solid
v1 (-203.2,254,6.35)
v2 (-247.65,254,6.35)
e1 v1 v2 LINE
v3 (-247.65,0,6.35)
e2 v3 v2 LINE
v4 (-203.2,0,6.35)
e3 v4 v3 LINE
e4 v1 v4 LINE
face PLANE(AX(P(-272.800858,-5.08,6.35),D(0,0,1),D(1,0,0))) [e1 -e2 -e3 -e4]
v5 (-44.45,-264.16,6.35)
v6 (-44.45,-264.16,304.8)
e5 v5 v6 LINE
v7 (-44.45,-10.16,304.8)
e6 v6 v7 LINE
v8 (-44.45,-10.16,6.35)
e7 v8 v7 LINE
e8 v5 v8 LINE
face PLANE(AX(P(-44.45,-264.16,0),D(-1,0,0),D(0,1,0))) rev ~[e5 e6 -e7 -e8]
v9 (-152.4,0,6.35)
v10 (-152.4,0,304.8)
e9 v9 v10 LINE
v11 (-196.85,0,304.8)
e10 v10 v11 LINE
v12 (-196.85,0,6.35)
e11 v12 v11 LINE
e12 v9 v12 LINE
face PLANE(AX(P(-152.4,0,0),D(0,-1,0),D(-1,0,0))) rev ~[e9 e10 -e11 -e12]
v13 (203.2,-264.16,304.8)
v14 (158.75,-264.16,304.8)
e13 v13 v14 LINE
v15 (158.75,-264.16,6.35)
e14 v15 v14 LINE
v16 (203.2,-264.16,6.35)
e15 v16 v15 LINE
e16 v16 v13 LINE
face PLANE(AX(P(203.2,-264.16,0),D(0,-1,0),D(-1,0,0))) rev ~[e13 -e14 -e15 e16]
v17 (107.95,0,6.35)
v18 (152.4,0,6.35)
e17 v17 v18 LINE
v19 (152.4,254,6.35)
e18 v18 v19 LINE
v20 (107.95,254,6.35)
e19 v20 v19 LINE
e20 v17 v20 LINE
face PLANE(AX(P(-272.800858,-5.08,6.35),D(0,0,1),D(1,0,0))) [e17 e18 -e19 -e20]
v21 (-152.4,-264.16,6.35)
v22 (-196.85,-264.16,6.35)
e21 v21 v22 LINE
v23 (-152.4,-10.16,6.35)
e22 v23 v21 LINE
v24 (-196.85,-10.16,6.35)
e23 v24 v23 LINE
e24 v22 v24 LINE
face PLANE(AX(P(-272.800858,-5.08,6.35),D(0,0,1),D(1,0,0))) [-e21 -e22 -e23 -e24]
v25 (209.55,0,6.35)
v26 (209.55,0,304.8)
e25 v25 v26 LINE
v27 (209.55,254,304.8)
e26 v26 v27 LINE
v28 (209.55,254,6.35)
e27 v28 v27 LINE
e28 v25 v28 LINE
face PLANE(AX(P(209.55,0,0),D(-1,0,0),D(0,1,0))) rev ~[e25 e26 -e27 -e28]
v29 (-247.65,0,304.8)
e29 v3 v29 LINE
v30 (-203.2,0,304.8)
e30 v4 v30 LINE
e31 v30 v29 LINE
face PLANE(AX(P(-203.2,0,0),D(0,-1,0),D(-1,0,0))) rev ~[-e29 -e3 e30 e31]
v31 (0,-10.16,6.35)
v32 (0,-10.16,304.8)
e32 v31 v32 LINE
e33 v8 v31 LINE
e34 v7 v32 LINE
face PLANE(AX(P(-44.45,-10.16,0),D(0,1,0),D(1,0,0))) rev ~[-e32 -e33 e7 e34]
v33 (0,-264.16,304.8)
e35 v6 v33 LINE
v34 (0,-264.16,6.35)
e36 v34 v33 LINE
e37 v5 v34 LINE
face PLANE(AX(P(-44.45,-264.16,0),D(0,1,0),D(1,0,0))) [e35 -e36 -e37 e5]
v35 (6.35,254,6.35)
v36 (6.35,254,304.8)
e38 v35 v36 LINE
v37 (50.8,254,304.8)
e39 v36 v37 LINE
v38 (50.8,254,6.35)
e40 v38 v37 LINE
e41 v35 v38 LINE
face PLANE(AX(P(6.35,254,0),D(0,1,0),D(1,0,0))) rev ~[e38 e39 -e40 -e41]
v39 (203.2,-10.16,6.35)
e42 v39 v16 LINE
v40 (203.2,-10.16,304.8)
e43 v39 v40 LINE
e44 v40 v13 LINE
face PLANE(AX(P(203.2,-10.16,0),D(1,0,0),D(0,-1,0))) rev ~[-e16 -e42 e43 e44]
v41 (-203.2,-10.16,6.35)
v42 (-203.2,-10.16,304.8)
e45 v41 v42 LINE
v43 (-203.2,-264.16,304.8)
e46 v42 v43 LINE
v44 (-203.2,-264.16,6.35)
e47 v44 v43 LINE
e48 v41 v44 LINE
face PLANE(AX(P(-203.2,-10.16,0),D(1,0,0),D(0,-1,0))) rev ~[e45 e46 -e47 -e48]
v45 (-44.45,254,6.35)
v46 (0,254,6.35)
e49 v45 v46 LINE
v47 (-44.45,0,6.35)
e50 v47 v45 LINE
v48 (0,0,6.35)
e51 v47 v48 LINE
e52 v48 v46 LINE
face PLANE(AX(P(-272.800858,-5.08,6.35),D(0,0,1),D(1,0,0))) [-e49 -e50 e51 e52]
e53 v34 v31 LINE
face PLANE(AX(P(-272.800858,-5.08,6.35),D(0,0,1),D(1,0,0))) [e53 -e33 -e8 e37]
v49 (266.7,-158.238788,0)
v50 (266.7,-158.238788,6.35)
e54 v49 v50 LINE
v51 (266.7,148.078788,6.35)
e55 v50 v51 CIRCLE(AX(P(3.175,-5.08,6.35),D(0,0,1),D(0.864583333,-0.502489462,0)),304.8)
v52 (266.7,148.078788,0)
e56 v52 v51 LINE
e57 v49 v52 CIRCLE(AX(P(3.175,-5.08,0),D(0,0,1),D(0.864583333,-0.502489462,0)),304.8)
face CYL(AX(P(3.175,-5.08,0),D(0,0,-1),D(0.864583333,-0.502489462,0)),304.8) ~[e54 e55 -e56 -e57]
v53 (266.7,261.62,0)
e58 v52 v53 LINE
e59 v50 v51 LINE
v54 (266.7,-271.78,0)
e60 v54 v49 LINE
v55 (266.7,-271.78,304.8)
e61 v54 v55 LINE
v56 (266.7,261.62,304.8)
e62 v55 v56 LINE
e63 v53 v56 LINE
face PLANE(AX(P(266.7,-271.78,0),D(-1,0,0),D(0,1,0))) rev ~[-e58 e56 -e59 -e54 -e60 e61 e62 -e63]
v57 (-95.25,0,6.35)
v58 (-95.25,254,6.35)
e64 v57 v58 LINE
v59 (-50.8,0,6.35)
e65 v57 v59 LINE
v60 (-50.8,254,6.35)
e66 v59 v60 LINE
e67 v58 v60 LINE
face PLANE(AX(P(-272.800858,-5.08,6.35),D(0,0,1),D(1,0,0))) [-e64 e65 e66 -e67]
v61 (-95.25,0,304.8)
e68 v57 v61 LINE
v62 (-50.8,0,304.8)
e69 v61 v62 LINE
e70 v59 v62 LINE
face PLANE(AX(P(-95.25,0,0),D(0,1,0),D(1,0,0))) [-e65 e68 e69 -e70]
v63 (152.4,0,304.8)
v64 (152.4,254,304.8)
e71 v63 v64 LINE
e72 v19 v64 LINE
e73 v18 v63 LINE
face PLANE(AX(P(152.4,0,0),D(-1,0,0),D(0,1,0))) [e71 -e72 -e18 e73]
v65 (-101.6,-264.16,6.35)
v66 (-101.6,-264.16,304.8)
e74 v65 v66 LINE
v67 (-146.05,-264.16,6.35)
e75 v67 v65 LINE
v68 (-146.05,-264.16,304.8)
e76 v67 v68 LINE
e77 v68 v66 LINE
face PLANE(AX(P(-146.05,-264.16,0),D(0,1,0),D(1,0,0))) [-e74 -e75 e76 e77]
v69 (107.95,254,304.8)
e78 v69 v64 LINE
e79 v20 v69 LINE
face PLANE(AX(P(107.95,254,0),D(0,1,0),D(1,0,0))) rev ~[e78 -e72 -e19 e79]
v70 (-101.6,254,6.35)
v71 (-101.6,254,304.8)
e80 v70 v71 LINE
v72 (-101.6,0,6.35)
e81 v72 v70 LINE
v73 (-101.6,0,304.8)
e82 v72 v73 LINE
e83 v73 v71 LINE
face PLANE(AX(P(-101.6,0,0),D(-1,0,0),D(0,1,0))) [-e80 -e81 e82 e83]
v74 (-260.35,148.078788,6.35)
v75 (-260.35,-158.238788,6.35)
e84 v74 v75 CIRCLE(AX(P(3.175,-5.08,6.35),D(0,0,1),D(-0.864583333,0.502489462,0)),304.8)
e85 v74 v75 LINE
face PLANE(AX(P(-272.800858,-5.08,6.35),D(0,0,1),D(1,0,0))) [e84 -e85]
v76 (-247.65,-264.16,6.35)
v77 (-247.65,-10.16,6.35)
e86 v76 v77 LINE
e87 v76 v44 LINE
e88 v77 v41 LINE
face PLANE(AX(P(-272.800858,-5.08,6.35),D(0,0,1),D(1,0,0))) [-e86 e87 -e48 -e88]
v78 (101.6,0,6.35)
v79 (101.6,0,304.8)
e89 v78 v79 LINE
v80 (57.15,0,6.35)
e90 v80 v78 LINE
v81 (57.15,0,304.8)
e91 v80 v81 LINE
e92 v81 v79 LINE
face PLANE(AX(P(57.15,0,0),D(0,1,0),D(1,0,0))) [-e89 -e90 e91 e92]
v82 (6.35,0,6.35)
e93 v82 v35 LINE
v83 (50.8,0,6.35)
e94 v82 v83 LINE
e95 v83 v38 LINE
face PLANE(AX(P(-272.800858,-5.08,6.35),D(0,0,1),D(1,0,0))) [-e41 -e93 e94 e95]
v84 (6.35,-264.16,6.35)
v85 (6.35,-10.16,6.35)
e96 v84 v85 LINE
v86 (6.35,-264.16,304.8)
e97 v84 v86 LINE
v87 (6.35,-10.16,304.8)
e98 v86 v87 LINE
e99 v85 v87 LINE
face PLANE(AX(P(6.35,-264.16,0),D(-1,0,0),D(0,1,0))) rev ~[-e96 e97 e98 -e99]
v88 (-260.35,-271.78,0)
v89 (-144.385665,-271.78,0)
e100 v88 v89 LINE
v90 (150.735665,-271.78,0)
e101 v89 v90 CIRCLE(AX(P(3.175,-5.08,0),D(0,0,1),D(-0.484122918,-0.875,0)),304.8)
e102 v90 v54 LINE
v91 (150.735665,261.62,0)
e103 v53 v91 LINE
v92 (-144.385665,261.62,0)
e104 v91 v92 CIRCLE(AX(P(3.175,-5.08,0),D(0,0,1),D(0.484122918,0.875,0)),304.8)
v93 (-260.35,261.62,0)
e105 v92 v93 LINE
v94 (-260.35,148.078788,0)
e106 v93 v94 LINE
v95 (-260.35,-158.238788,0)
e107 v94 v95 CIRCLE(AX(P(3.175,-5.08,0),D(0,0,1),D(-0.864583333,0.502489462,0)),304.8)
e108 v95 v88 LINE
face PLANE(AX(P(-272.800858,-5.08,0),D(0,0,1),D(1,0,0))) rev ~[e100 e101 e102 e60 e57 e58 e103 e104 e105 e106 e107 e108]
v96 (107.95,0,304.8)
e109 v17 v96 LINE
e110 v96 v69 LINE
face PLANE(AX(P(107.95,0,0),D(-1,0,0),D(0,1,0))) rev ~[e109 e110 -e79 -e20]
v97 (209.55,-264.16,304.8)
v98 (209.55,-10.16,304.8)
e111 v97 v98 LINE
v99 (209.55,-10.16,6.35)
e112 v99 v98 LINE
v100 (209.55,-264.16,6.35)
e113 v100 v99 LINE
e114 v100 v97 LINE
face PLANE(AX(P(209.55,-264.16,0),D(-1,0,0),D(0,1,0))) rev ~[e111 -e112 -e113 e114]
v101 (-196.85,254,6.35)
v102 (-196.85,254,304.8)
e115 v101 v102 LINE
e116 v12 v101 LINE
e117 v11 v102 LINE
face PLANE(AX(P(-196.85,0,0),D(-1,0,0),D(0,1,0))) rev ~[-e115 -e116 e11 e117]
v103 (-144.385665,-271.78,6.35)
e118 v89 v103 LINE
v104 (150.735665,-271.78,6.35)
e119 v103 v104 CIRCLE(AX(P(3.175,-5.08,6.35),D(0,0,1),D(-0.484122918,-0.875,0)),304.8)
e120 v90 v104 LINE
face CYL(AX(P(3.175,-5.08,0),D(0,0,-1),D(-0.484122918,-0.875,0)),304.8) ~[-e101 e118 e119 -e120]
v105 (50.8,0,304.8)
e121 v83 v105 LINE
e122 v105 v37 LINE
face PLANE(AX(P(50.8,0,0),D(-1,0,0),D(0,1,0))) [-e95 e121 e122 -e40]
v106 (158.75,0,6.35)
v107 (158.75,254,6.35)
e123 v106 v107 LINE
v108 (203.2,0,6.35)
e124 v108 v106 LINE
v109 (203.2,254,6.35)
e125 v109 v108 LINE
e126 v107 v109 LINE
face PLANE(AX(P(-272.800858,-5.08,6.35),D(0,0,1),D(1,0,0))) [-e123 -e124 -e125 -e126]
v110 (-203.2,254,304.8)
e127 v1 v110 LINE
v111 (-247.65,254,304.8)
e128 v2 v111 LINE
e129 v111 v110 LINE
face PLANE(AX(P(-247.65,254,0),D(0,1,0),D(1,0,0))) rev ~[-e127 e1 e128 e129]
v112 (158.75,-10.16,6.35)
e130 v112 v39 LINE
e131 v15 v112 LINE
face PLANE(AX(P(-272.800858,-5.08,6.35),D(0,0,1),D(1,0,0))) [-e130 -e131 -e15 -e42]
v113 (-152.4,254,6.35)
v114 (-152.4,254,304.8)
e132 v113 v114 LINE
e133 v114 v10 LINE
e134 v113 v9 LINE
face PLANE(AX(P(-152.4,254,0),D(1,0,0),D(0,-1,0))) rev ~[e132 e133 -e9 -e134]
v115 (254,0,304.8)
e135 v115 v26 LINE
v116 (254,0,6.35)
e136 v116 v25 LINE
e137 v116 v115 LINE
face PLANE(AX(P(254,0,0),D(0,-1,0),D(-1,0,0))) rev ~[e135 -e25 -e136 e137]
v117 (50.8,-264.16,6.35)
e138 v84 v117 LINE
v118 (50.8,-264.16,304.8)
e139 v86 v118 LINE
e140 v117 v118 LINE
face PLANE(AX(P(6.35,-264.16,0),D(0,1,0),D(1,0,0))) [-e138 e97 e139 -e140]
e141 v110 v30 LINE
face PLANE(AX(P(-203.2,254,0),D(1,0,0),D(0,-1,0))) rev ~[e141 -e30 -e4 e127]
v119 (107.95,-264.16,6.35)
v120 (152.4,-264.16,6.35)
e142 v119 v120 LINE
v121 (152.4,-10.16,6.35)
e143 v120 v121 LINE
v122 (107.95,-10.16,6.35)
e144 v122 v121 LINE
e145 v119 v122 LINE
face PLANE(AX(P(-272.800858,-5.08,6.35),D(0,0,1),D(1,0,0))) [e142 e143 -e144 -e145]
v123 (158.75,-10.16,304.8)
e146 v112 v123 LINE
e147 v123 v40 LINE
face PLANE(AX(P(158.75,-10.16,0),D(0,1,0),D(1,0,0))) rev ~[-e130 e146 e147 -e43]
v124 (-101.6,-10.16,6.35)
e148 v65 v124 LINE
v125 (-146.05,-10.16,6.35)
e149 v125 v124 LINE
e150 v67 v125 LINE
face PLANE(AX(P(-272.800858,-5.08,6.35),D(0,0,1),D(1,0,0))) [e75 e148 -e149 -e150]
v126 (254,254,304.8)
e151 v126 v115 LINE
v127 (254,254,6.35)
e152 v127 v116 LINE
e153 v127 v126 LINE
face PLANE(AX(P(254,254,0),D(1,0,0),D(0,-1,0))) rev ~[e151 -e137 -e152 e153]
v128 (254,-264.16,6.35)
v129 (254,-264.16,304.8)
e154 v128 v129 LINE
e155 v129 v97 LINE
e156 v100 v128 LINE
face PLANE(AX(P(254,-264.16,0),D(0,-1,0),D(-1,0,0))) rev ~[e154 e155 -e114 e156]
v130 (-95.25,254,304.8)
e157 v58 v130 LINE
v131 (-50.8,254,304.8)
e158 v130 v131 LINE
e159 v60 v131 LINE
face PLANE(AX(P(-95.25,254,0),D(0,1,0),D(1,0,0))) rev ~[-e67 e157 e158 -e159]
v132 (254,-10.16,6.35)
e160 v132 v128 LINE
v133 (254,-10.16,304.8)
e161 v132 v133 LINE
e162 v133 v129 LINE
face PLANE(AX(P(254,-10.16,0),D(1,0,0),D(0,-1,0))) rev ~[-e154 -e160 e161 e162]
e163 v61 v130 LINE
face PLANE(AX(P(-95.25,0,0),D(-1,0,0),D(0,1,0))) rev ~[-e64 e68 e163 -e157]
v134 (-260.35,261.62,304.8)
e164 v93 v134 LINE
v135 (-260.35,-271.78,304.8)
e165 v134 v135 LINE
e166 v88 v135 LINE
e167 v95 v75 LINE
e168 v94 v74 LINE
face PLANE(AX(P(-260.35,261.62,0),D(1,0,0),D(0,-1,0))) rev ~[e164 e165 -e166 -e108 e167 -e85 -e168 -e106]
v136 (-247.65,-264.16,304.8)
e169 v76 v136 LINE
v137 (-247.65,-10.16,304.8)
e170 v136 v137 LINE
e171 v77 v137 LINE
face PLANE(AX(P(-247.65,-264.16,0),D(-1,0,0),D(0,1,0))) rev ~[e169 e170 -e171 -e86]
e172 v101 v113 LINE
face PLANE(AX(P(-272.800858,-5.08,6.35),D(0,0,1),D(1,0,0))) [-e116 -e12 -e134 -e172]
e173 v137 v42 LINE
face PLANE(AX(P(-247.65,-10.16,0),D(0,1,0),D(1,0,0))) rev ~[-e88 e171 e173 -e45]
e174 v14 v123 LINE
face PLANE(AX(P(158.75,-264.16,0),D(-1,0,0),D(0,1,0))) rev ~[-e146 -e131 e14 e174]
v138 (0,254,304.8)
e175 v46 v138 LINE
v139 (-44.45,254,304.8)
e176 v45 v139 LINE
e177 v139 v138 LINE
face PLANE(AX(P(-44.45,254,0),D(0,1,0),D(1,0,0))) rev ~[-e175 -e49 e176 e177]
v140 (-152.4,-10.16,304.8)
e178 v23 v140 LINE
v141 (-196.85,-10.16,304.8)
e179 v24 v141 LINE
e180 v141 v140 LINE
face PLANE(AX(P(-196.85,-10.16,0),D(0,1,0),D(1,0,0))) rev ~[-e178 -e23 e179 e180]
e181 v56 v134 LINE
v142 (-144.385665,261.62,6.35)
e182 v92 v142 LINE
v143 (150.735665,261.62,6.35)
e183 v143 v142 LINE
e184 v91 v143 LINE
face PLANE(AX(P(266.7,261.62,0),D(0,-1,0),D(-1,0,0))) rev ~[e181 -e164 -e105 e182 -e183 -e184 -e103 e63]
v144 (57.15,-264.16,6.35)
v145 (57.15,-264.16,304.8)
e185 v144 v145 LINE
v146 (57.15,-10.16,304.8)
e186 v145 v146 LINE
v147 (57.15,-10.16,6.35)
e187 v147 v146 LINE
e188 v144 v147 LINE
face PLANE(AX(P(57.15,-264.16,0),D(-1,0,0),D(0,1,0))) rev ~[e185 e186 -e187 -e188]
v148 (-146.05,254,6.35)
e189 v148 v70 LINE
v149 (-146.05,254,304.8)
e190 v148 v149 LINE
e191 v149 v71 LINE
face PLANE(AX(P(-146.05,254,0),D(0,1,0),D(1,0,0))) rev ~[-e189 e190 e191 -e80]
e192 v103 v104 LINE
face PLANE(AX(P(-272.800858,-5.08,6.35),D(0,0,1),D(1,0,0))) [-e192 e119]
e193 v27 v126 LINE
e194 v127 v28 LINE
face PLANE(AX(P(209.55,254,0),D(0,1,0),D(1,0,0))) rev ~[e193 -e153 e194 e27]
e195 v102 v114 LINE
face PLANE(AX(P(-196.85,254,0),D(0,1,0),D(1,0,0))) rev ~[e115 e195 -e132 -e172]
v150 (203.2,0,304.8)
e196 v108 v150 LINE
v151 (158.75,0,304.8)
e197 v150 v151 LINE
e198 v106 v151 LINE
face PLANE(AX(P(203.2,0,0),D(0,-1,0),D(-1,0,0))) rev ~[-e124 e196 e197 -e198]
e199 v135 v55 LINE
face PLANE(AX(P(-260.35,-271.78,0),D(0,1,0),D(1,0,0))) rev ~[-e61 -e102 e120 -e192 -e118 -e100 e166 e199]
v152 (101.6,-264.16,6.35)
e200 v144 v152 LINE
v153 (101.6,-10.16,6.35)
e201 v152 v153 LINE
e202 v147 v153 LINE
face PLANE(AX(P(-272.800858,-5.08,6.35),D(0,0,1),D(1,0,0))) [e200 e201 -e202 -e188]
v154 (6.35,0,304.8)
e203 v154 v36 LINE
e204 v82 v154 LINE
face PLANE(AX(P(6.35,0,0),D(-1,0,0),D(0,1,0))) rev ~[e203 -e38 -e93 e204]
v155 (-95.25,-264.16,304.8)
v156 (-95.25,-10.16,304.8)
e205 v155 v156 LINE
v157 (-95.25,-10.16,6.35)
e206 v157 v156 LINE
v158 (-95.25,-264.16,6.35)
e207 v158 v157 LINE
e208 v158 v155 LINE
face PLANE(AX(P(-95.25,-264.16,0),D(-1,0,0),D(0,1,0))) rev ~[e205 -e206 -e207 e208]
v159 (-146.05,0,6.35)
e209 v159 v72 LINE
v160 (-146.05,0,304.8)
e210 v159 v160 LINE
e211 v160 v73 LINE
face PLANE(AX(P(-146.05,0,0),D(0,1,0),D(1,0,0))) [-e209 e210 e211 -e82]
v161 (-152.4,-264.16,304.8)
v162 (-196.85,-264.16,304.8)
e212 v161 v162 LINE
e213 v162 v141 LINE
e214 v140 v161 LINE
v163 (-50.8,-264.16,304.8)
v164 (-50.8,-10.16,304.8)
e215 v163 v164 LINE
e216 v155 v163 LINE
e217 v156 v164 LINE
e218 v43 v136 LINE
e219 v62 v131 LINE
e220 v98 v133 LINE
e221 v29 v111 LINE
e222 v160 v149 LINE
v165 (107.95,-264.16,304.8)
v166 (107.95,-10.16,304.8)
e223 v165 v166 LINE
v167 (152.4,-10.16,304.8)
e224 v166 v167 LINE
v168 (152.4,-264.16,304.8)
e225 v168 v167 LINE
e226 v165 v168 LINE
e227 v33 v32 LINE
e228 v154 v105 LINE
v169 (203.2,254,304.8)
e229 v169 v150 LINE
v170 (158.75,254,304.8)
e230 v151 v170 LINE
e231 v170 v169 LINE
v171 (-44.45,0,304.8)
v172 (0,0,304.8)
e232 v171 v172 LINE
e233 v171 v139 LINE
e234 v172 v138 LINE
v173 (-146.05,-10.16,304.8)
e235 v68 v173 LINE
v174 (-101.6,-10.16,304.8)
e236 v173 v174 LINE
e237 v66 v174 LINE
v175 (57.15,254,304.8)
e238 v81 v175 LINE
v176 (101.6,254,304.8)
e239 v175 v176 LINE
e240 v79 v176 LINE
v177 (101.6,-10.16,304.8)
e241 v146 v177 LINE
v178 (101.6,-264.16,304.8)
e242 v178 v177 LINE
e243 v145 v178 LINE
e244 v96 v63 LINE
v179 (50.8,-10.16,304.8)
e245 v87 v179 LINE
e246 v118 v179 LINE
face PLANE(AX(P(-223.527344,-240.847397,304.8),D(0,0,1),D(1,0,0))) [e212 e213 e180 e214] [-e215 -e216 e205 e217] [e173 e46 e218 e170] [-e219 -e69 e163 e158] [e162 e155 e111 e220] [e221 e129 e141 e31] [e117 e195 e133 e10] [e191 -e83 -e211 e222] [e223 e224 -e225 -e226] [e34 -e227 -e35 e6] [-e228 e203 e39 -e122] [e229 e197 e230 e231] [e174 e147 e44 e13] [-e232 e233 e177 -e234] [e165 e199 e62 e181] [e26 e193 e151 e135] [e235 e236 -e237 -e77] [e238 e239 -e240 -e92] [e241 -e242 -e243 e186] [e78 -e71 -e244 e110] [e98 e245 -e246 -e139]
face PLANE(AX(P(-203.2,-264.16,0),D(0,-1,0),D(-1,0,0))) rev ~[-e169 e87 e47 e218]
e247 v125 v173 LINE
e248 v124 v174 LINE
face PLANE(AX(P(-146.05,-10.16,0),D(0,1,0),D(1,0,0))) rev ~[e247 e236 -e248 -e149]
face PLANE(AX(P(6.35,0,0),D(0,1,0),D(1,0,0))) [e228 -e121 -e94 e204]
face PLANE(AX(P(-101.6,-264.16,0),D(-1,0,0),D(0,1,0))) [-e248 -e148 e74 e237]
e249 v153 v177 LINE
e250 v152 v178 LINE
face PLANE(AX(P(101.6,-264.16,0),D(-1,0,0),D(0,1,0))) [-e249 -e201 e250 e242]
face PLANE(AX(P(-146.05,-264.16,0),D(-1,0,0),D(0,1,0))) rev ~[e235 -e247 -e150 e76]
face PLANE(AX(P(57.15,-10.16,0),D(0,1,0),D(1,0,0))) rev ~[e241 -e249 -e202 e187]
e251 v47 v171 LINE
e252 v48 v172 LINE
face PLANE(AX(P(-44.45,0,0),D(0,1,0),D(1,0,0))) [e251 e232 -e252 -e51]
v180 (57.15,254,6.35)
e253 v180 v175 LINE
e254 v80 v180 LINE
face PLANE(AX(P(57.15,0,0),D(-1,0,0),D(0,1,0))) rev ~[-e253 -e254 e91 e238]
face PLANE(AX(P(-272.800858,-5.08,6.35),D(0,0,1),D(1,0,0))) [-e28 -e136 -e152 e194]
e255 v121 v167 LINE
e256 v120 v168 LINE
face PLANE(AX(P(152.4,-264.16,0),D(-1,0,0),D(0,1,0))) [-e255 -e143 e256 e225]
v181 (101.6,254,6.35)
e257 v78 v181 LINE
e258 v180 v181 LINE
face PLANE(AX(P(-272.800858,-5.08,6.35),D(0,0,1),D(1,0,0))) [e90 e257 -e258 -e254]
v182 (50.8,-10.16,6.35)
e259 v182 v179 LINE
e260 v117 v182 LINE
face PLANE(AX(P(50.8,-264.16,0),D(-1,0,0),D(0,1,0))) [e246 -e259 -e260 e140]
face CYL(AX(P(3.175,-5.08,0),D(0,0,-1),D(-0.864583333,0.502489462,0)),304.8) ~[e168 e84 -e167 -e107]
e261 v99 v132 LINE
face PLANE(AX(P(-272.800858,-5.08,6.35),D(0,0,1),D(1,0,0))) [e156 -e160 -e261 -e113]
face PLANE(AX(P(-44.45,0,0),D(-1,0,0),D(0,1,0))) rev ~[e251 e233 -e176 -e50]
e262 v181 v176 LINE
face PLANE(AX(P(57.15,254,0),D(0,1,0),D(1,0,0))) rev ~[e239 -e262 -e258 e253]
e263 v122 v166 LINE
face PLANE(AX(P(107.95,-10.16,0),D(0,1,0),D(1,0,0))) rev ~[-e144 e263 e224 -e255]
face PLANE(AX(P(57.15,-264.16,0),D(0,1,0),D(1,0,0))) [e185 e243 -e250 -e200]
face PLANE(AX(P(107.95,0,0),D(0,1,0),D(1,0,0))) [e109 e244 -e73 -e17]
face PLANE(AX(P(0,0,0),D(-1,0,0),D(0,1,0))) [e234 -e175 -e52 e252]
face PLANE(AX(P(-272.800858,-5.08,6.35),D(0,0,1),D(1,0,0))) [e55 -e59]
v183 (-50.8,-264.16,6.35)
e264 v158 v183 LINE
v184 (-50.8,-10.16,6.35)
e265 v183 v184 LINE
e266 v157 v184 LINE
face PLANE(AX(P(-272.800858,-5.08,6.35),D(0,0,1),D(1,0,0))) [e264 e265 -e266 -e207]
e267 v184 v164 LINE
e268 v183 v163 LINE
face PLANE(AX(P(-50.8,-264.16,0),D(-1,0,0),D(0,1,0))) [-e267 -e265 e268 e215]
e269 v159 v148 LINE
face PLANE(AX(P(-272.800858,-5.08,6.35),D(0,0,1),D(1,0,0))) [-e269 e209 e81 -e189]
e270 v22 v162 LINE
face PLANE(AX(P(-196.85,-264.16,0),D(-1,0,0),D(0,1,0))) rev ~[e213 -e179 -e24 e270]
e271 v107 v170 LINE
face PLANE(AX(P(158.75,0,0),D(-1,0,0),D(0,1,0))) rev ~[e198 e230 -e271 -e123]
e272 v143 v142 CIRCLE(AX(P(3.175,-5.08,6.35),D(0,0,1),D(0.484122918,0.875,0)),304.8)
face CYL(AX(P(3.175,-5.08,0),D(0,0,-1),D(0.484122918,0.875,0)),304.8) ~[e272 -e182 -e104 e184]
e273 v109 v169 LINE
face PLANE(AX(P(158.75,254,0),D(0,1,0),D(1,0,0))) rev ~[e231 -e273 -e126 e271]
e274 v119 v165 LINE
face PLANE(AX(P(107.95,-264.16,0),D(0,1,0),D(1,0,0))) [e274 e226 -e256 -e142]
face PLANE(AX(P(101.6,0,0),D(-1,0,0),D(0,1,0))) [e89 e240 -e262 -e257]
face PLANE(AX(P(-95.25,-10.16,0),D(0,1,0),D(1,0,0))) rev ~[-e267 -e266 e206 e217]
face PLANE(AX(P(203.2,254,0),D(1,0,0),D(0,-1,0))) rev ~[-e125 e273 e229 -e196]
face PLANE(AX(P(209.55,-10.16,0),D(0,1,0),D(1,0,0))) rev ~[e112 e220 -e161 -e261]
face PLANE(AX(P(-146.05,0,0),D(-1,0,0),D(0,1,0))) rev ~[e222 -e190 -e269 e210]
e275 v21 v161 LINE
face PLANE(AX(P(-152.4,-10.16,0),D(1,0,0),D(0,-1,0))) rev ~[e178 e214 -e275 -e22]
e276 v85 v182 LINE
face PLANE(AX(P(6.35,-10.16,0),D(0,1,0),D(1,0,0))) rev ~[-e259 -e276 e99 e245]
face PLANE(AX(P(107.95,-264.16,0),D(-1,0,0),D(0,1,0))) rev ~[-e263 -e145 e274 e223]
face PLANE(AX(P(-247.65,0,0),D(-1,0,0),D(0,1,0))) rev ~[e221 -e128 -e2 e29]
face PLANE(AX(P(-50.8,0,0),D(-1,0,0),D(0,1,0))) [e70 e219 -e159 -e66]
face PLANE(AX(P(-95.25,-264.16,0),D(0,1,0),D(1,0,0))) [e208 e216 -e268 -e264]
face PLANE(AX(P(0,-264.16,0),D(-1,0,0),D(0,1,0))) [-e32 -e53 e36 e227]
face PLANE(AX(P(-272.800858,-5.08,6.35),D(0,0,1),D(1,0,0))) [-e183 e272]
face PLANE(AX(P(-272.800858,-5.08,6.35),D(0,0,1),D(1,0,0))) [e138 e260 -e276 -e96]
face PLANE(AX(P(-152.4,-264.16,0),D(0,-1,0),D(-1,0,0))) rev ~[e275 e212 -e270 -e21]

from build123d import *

# Parameters (mm, degrees)
F0_W     = 44.45
F0_H     = 254
F1_DEPTH = 304.8
F2_DEPTH = 6.35


with BuildPart() as f1:
    # F0 (on Top) → F1 (new body)
    with BuildSketch(Plane.XY):
        with BuildLine():
            ThreePointArc((-247.65, -178.2558048198), (-254.1946774379, -168.3708115465), (-260.35, -158.2387881089))
            Line((-260.35, -158.2387881089), (-260.35, -271.78))
            Line((-260.35, -271.78), (-144.3856654905, -271.78))
            ThreePointArc((-144.3856654905, -271.78), (-150.9341183646, -268.0503778696), (-157.3883631935, -264.16))
            Line((-157.3883631935, -264.16), (-196.85, -264.16))
            Line((-196.85, -264.16), (-196.85, -235.0648677087))
            ThreePointArc((-196.85, -235.0648677087), (-200.0448497603, -232.2467507876), (-203.2, -229.384256257))
            Line((-203.2, -229.384256257), (-203.2, -264.16))
            Line((-203.2, -264.16), (-247.65, -264.16))
            Line((-247.65, -264.16), (-247.65, -178.2558048198))
        make_face()
        with BuildLine():
            Line((150.7356654905, 261.62), (-144.3856654905, 261.62))
            ThreePointArc((-144.3856654905, 261.62), (-150.9341183646, 257.8903778696), (-157.3883631935, 254))
            Line((-157.3883631935, 254), (-152.4, 254))
            Line((-152.4, 254), (-152.4, 0))
            Line((-152.4, 0), (-196.85, 0))
            Line((-196.85, 0), (-196.85, 224.9048677087))
            ThreePointArc((-196.85, 224.9048677087), (-200.0448497603, 222.0867507876), (-203.2, 219.224256257))
            Line((-203.2, 219.224256257), (-203.2, 0))
            Line((-203.2, 0), (-247.65, 0))
            Line((-247.65, 0), (-247.65, 168.0958048198))
            ThreePointArc((-247.65, 168.0958048198), (-254.1946774379, 158.2108115465), (-260.35, 148.0787881089))
            Line((-260.35, 148.0787881089), (-260.35, -158.2387881089))
            ThreePointArc((-260.35, -158.2387881089), (-254.1946774379, -168.3708115465), (-247.65, -178.2558048198))
            Line((-247.65, -178.2558048198), (-247.65, -10.16))
            Line((-247.65, -10.16), (-203.2, -10.16))
            Line((-203.2, -10.16), (-203.2, -229.384256257))
            ThreePointArc((-203.2, -229.384256257), (-200.0448497603, -232.2467507876), (-196.85, -235.0648677087))
            Line((-196.85, -235.0648677087), (-196.85, -10.16))
            Line((-196.85, -10.16), (-152.4, -10.16))
            Line((-152.4, -10.16), (-152.4, -264.16))
            Line((-152.4, -264.16), (-157.3883631935, -264.16))
            ThreePointArc((-157.3883631935, -264.16), (-150.9341183646, -268.0503778696), (-144.3856654905, -271.78))
            Line((-144.3856654905, -271.78), (150.7356654905, -271.78))
            ThreePointArc((150.7356654905, -271.78), (157.2841183646, -268.0503778696), (163.7383631935, -264.16))
            Line((163.7383631935, -264.16), (158.75, -264.16))
            Line((158.75, -264.16), (158.75, -10.16))
            Line((158.75, -10.16), (203.2, -10.16))
            Line((203.2, -10.16), (203.2, -235.0648677087))
            ThreePointArc((203.2, -235.0648677087), (206.3948497603, -232.2467507876), (209.55, -229.384256257))
            Line((209.55, -229.384256257), (209.55, -10.16))
            Line((209.55, -10.16), (254, -10.16))
            Line((254, -10.16), (254, -178.2558048198))
            ThreePointArc((254, -178.2558048198), (260.5446774379, -168.3708115465), (266.7, -158.2387881089))
            Line((266.7, -158.2387881089), (266.7, 148.0787881089))
            ThreePointArc((266.7, 148.0787881089), (260.5446774379, 158.2108115465), (254, 168.0958048198))
            Line((254, 168.0958048198), (254, 0))
            Line((254, 0), (209.55, 0))
            Line((209.55, 0), (209.55, 219.224256257))
            ThreePointArc((209.55, 219.224256257), (206.3948497603, 222.0867507876), (203.2, 224.9048677087))
            Line((203.2, 224.9048677087), (203.2, 0))
            Line((203.2, 0), (158.75, 0))
            Line((158.75, 0), (158.75, 254))
            Line((158.75, 254), (163.7383631935, 254))
            ThreePointArc((163.7383631935, 254), (157.2841183646, 257.8903778696), (150.7356654905, 261.62))
        make_face()
        with Locations((-123.825, -137.16)):
            Rectangle(F0_W, F0_H, mode=Mode.SUBTRACT)
        with Locations((-73.025, -137.16)):
            Rectangle(F0_W, F0_H, mode=Mode.SUBTRACT)
        with Locations((-22.225, -137.16)):
            Rectangle(F0_W, F0_H, mode=Mode.SUBTRACT)
        with Locations((28.575, -137.16)):
            Rectangle(F0_W, F0_H, mode=Mode.SUBTRACT)
        with Locations((79.375, -137.16)):
            Rectangle(F0_W, F0_H, mode=Mode.SUBTRACT)
        with Locations((130.175, -137.16)):
            Rectangle(F0_W, F0_H, mode=Mode.SUBTRACT)
        with Locations((-123.825, 127)):
            Rectangle(F0_W, F0_H, mode=Mode.SUBTRACT)
        with Locations((-73.025, 127)):
            Rectangle(F0_W, F0_H, mode=Mode.SUBTRACT)
        with Locations((-22.225, 127)):
            Rectangle(F0_W, F0_H, mode=Mode.SUBTRACT)
        with Locations((28.575, 127)):
            Rectangle(F0_W, F0_H, mode=Mode.SUBTRACT)
        with Locations((79.375, 127)):
            Rectangle(F0_W, F0_H, mode=Mode.SUBTRACT)
        with Locations((130.175, 127)):
            Rectangle(F0_W, F0_H, mode=Mode.SUBTRACT)
        with BuildLine():
            Line((-144.3856654905, 261.62), (-260.35, 261.62))
            Line((-260.35, 261.62), (-260.35, 148.0787881089))
            ThreePointArc((-260.35, 148.0787881089), (-254.1946774379, 158.2108115465), (-247.65, 168.0958048198))
            Line((-247.65, 168.0958048198), (-247.65, 254))
            Line((-247.65, 254), (-203.2, 254))
            Line((-203.2, 254), (-203.2, 219.224256257))
            ThreePointArc((-203.2, 219.224256257), (-200.0448497603, 222.0867507876), (-196.85, 224.9048677087))
            Line((-196.85, 224.9048677087), (-196.85, 254))
            Line((-196.85, 254), (-157.3883631935, 254))
            ThreePointArc((-157.3883631935, 254), (-150.9341183646, 257.8903778696), (-144.3856654905, 261.62))
        make_face()
        with BuildLine():
            Line((266.7, 261.62), (150.7356654905, 261.62))
            ThreePointArc((150.7356654905, 261.62), (157.2841183646, 257.8903778696), (163.7383631935, 254))
            Line((163.7383631935, 254), (203.2, 254))
            Line((203.2, 254), (203.2, 224.9048677087))
            ThreePointArc((203.2, 224.9048677087), (206.3948497603, 222.0867507876), (209.55, 219.224256257))
            Line((209.55, 219.224256257), (209.55, 254))
            Line((209.55, 254), (254, 254))
            Line((254, 254), (254, 168.0958048198))
            ThreePointArc((254, 168.0958048198), (260.5446774379, 158.2108115465), (266.7, 148.0787881089))
            Line((266.7, 148.0787881089), (266.7, 261.62))
        make_face()
        with BuildLine():
            Line((266.7, -271.78), (266.7, -158.2387881089))
            ThreePointArc((266.7, -158.2387881089), (260.5446774379, -168.3708115465), (254, -178.2558048198))
            Line((254, -178.2558048198), (254, -264.16))
            Line((254, -264.16), (209.55, -264.16))
            Line((209.55, -264.16), (209.55, -229.384256257))
            ThreePointArc((209.55, -229.384256257), (206.3948497603, -232.2467507876), (203.2, -235.0648677087))
            Line((203.2, -235.0648677087), (203.2, -264.16))
            Line((203.2, -264.16), (163.7383631935, -264.16))
            ThreePointArc((163.7383631935, -264.16), (157.2841183646, -268.0503778696), (150.7356654905, -271.78))
            Line((150.7356654905, -271.78), (266.7, -271.78))
        make_face()
    extrude(amount=F1_DEPTH)

    # F0 (on Top) → F2 (join)
    with BuildSketch(Plane.XY):
        with BuildLine():
            Line((-260.35, -158.2387881089), (-260.35, 148.0787881089))
            ThreePointArc((-260.35, 148.0787881089), (-301.625, -5.08), (-260.35, -158.2387881089))
        make_face()
        with BuildLine():
            Line((150.7356654905, 261.62), (-144.3856654905, 261.62))
            ThreePointArc((-144.3856654905, 261.62), (-150.9341183646, 257.8903778696), (-157.3883631935, 254))
            Line((-157.3883631935, 254), (-152.4, 254))
            Line((-152.4, 254), (-152.4, 0))
            Line((-152.4, 0), (-196.85, 0))
            Line((-196.85, 0), (-196.85, 224.9048677087))
            ThreePointArc((-196.85, 224.9048677087), (-200.0448497603, 222.0867507876), (-203.2, 219.224256257))
            Line((-203.2, 219.224256257), (-203.2, 0))
            Line((-203.2, 0), (-247.65, 0))
            Line((-247.65, 0), (-247.65, 168.0958048198))
            ThreePointArc((-247.65, 168.0958048198), (-254.1946774379, 158.2108115465), (-260.35, 148.0787881089))
            Line((-260.35, 148.0787881089), (-260.35, -158.2387881089))
            ThreePointArc((-260.35, -158.2387881089), (-254.1946774379, -168.3708115465), (-247.65, -178.2558048198))
            Line((-247.65, -178.2558048198), (-247.65, -10.16))
            Line((-247.65, -10.16), (-203.2, -10.16))
            Line((-203.2, -10.16), (-203.2, -229.384256257))
            ThreePointArc((-203.2, -229.384256257), (-200.0448497603, -232.2467507876), (-196.85, -235.0648677087))
            Line((-196.85, -235.0648677087), (-196.85, -10.16))
            Line((-196.85, -10.16), (-152.4, -10.16))
            Line((-152.4, -10.16), (-152.4, -264.16))
            Line((-152.4, -264.16), (-157.3883631935, -264.16))
            ThreePointArc((-157.3883631935, -264.16), (-150.9341183646, -268.0503778696), (-144.3856654905, -271.78))
            Line((-144.3856654905, -271.78), (150.7356654905, -271.78))
            ThreePointArc((150.7356654905, -271.78), (157.2841183646, -268.0503778696), (163.7383631935, -264.16))
            Line((163.7383631935, -264.16), (158.75, -264.16))
            Line((158.75, -264.16), (158.75, -10.16))
            Line((158.75, -10.16), (203.2, -10.16))
            Line((203.2, -10.16), (203.2, -235.0648677087))
            ThreePointArc((203.2, -235.0648677087), (206.3948497603, -232.2467507876), (209.55, -229.384256257))
            Line((209.55, -229.384256257), (209.55, -10.16))
            Line((209.55, -10.16), (254, -10.16))
            Line((254, -10.16), (254, -178.2558048198))
            ThreePointArc((254, -178.2558048198), (260.5446774379, -168.3708115465), (266.7, -158.2387881089))
            Line((266.7, -158.2387881089), (266.7, 148.0787881089))
            ThreePointArc((266.7, 148.0787881089), (260.5446774379, 158.2108115465), (254, 168.0958048198))
            Line((254, 168.0958048198), (254, 0))
            Line((254, 0), (209.55, 0))
            Line((209.55, 0), (209.55, 219.224256257))
            ThreePointArc((209.55, 219.224256257), (206.3948497603, 222.0867507876), (203.2, 224.9048677087))
            Line((203.2, 224.9048677087), (203.2, 0))
            Line((203.2, 0), (158.75, 0))
            Line((158.75, 0), (158.75, 254))
            Line((158.75, 254), (163.7383631935, 254))
            ThreePointArc((163.7383631935, 254), (157.2841183646, 257.8903778696), (150.7356654905, 261.62))
        make_face()
        with Locations((-123.825, -137.16)):
            Rectangle(F0_W, F0_H, mode=Mode.SUBTRACT)
        with Locations((-73.025, -137.16)):
            Rectangle(F0_W, F0_H, mode=Mode.SUBTRACT)
        with Locations((-22.225, -137.16)):
            Rectangle(F0_W, F0_H, mode=Mode.SUBTRACT)
        with Locations((28.575, -137.16)):
            Rectangle(F0_W, F0_H, mode=Mode.SUBTRACT)
        with Locations((79.375, -137.16)):
            Rectangle(F0_W, F0_H, mode=Mode.SUBTRACT)
        with Locations((130.175, -137.16)):
            Rectangle(F0_W, F0_H, mode=Mode.SUBTRACT)
        with Locations((-123.825, 127)):
            Rectangle(F0_W, F0_H, mode=Mode.SUBTRACT)
        with Locations((-73.025, 127)):
            Rectangle(F0_W, F0_H, mode=Mode.SUBTRACT)
        with Locations((-22.225, 127)):
            Rectangle(F0_W, F0_H, mode=Mode.SUBTRACT)
        with Locations((28.575, 127)):
            Rectangle(F0_W, F0_H, mode=Mode.SUBTRACT)
        with Locations((79.375, 127)):
            Rectangle(F0_W, F0_H, mode=Mode.SUBTRACT)
        with Locations((130.175, 127)):
            Rectangle(F0_W, F0_H, mode=Mode.SUBTRACT)
        with BuildLine():
            Line((-247.65, -10.16), (-247.65, -178.2558048198))
            ThreePointArc((-247.65, -178.2558048198), (-226.8499761147, -205.0588747928), (-203.2, -229.384256257))
            Line((-203.2, -229.384256257), (-203.2, -10.16))
            Line((-203.2, -10.16), (-247.65, -10.16))
        make_face()
        with BuildLine():
            ThreePointArc((-196.85, -235.0648677087), (-177.7051359973, -250.4071619727), (-157.3883631935, -264.16))
            Line((-157.3883631935, -264.16), (-152.4, -264.16))
            Line((-152.4, -264.16), (-152.4, -10.16))
            Line((-152.4, -10.16), (-196.85, -10.16))
            Line((-196.85, -10.16), (-196.85, -235.0648677087))
        make_face()
        with Locations((-123.825, -137.16)):
            Rectangle(F0_W, F0_H)
        with Locations((-73.025, -137.16)):
            Rectangle(F0_W, F0_H)
        with Locations((-22.225, -137.16)):
            Rectangle(F0_W, F0_H)
        with Locations((28.575, -137.16)):
            Rectangle(F0_W, F0_H)
        with Locations((79.375, -137.16)):
            Rectangle(F0_W, F0_H)
        with Locations((130.175, -137.16)):
            Rectangle(F0_W, F0_H)
        with BuildLine():
            Line((158.75, -264.16), (163.7383631935, -264.16))
            ThreePointArc((163.7383631935, -264.16), (184.0551359973, -250.4071619727), (203.2, -235.0648677087))
            Line((203.2, -235.0648677087), (203.2, -10.16))
            Line((203.2, -10.16), (158.75, -10.16))
            Line((158.75, -10.16), (158.75, -264.16))
        make_face()
        with BuildLine():
            ThreePointArc((209.55, -229.384256257), (233.1999761147, -205.0588747928), (254, -178.2558048198))
            Line((254, -178.2558048198), (254, -10.16))
            Line((254, -10.16), (209.55, -10.16))
            Line((209.55, -10.16), (209.55, -229.384256257))
        make_face()
        with BuildLine():
            Line((254, 0), (254, 168.0958048198))
            ThreePointArc((254, 168.0958048198), (233.1999761147, 194.8988747928), (209.55, 219.224256257))
            Line((209.55, 219.224256257), (209.55, 0))
            Line((209.55, 0), (254, 0))
        make_face()
        with BuildLine():
            ThreePointArc((203.2, 224.9048677087), (184.0551359973, 240.2471619727), (163.7383631935, 254))
            Line((163.7383631935, 254), (158.75, 254))
            Line((158.75, 254), (158.75, 0))
            Line((158.75, 0), (203.2, 0))
            Line((203.2, 0), (203.2, 224.9048677087))
        make_face()
        with Locations((130.175, 127)):
            Rectangle(F0_W, F0_H)
        with Locations((79.375, 127)):
            Rectangle(F0_W, F0_H)
        with Locations((28.575, 127)):
            Rectangle(F0_W, F0_H)
        with Locations((-22.225, 127)):
            Rectangle(F0_W, F0_H)
        with Locations((-123.825, 127)):
            Rectangle(F0_W, F0_H)
        with BuildLine():
            Line((-152.4, 254), (-157.3883631935, 254))
            ThreePointArc((-157.3883631935, 254), (-177.7051359973, 240.2471619727), (-196.85, 224.9048677087))
            Line((-196.85, 224.9048677087), (-196.85, 0))
            Line((-196.85, 0), (-152.4, 0))
            Line((-152.4, 0), (-152.4, 254))
        make_face()
        with BuildLine():
            ThreePointArc((-203.2, 219.224256257), (-226.8499761147, 194.8988747928), (-247.65, 168.0958048198))
            Line((-247.65, 168.0958048198), (-247.65, 0))
            Line((-247.65, 0), (-203.2, 0))
            Line((-203.2, 0), (-203.2, 219.224256257))
        make_face()
        with Locations((-73.025, 127)):
            Rectangle(F0_W, F0_H)
        with BuildLine():
            Line((150.7356654905, -271.78), (-144.3856654905, -271.78))
            ThreePointArc((-144.3856654905, -271.78), (3.175, -309.88), (150.7356654905, -271.78))
        make_face()
        with BuildLine():
            ThreePointArc((307.975, -5.08), (297.4754077469, 74.2314745797), (266.7, 148.0787881089))
            Line((266.7, 148.0787881089), (266.7, -158.2387881089))
            ThreePointArc((266.7, -158.2387881089), (297.4754077469, -84.3914745797), (307.975, -5.08))
        make_face()
        with BuildLine():
            ThreePointArc((150.7356654905, 261.62), (3.175, 299.72), (-144.3856654905, 261.62))
            Line((-144.3856654905, 261.62), (150.7356654905, 261.62))
        make_face()
        with BuildLine():
            ThreePointArc((203.2, -235.0648677087), (184.0551359973, -250.4071619727), (163.7383631935, -264.16))
            Line((163.7383631935, -264.16), (203.2, -264.16))
            Line((203.2, -264.16), (203.2, -235.0648677087))
        make_face()
        with BuildLine():
            ThreePointArc((-203.2, -229.384256257), (-226.8499761147, -205.0588747928), (-247.65, -178.2558048198))
            Line((-247.65, -178.2558048198), (-247.65, -264.16))
            Line((-247.65, -264.16), (-203.2, -264.16))
            Line((-203.2, -264.16), (-203.2, -229.384256257))
        make_face()
        with BuildLine():
            Line((-196.85, -264.16), (-157.3883631935, -264.16))
            ThreePointArc((-157.3883631935, -264.16), (-177.7051359973, -250.4071619727), (-196.85, -235.0648677087))
            Line((-196.85, -235.0648677087), (-196.85, -264.16))
        make_face()
        with BuildLine():
            Line((254, -264.16), (254, -178.2558048198))
            ThreePointArc((254, -178.2558048198), (233.1999761147, -205.0588747928), (209.55, -229.384256257))
            Line((209.55, -229.384256257), (209.55, -264.16))
            Line((209.55, -264.16), (254, -264.16))
        make_face()
        with BuildLine():
            ThreePointArc((209.55, 219.224256257), (233.1999761147, 194.8988747928), (254, 168.0958048198))
            Line((254, 168.0958048198), (254, 254))
            Line((254, 254), (209.55, 254))
            Line((209.55, 254), (209.55, 219.224256257))
        make_face()
        with BuildLine():
            Line((203.2, 254), (163.7383631935, 254))
            ThreePointArc((163.7383631935, 254), (184.0551359973, 240.2471619727), (203.2, 224.9048677087))
            Line((203.2, 224.9048677087), (203.2, 254))
        make_face()
        with BuildLine():
            ThreePointArc((-196.85, 224.9048677087), (-177.7051359973, 240.2471619727), (-157.3883631935, 254))
            Line((-157.3883631935, 254), (-196.85, 254))
            Line((-196.85, 254), (-196.85, 224.9048677087))
        make_face()
        with BuildLine():
            Line((-247.65, 254), (-247.65, 168.0958048198))
            ThreePointArc((-247.65, 168.0958048198), (-226.8499761147, 194.8988747928), (-203.2, 219.224256257))
            Line((-203.2, 219.224256257), (-203.2, 254))
            Line((-203.2, 254), (-247.65, 254))
        make_face()
    extrude(amount=F2_DEPTH)


solid = f1.part
